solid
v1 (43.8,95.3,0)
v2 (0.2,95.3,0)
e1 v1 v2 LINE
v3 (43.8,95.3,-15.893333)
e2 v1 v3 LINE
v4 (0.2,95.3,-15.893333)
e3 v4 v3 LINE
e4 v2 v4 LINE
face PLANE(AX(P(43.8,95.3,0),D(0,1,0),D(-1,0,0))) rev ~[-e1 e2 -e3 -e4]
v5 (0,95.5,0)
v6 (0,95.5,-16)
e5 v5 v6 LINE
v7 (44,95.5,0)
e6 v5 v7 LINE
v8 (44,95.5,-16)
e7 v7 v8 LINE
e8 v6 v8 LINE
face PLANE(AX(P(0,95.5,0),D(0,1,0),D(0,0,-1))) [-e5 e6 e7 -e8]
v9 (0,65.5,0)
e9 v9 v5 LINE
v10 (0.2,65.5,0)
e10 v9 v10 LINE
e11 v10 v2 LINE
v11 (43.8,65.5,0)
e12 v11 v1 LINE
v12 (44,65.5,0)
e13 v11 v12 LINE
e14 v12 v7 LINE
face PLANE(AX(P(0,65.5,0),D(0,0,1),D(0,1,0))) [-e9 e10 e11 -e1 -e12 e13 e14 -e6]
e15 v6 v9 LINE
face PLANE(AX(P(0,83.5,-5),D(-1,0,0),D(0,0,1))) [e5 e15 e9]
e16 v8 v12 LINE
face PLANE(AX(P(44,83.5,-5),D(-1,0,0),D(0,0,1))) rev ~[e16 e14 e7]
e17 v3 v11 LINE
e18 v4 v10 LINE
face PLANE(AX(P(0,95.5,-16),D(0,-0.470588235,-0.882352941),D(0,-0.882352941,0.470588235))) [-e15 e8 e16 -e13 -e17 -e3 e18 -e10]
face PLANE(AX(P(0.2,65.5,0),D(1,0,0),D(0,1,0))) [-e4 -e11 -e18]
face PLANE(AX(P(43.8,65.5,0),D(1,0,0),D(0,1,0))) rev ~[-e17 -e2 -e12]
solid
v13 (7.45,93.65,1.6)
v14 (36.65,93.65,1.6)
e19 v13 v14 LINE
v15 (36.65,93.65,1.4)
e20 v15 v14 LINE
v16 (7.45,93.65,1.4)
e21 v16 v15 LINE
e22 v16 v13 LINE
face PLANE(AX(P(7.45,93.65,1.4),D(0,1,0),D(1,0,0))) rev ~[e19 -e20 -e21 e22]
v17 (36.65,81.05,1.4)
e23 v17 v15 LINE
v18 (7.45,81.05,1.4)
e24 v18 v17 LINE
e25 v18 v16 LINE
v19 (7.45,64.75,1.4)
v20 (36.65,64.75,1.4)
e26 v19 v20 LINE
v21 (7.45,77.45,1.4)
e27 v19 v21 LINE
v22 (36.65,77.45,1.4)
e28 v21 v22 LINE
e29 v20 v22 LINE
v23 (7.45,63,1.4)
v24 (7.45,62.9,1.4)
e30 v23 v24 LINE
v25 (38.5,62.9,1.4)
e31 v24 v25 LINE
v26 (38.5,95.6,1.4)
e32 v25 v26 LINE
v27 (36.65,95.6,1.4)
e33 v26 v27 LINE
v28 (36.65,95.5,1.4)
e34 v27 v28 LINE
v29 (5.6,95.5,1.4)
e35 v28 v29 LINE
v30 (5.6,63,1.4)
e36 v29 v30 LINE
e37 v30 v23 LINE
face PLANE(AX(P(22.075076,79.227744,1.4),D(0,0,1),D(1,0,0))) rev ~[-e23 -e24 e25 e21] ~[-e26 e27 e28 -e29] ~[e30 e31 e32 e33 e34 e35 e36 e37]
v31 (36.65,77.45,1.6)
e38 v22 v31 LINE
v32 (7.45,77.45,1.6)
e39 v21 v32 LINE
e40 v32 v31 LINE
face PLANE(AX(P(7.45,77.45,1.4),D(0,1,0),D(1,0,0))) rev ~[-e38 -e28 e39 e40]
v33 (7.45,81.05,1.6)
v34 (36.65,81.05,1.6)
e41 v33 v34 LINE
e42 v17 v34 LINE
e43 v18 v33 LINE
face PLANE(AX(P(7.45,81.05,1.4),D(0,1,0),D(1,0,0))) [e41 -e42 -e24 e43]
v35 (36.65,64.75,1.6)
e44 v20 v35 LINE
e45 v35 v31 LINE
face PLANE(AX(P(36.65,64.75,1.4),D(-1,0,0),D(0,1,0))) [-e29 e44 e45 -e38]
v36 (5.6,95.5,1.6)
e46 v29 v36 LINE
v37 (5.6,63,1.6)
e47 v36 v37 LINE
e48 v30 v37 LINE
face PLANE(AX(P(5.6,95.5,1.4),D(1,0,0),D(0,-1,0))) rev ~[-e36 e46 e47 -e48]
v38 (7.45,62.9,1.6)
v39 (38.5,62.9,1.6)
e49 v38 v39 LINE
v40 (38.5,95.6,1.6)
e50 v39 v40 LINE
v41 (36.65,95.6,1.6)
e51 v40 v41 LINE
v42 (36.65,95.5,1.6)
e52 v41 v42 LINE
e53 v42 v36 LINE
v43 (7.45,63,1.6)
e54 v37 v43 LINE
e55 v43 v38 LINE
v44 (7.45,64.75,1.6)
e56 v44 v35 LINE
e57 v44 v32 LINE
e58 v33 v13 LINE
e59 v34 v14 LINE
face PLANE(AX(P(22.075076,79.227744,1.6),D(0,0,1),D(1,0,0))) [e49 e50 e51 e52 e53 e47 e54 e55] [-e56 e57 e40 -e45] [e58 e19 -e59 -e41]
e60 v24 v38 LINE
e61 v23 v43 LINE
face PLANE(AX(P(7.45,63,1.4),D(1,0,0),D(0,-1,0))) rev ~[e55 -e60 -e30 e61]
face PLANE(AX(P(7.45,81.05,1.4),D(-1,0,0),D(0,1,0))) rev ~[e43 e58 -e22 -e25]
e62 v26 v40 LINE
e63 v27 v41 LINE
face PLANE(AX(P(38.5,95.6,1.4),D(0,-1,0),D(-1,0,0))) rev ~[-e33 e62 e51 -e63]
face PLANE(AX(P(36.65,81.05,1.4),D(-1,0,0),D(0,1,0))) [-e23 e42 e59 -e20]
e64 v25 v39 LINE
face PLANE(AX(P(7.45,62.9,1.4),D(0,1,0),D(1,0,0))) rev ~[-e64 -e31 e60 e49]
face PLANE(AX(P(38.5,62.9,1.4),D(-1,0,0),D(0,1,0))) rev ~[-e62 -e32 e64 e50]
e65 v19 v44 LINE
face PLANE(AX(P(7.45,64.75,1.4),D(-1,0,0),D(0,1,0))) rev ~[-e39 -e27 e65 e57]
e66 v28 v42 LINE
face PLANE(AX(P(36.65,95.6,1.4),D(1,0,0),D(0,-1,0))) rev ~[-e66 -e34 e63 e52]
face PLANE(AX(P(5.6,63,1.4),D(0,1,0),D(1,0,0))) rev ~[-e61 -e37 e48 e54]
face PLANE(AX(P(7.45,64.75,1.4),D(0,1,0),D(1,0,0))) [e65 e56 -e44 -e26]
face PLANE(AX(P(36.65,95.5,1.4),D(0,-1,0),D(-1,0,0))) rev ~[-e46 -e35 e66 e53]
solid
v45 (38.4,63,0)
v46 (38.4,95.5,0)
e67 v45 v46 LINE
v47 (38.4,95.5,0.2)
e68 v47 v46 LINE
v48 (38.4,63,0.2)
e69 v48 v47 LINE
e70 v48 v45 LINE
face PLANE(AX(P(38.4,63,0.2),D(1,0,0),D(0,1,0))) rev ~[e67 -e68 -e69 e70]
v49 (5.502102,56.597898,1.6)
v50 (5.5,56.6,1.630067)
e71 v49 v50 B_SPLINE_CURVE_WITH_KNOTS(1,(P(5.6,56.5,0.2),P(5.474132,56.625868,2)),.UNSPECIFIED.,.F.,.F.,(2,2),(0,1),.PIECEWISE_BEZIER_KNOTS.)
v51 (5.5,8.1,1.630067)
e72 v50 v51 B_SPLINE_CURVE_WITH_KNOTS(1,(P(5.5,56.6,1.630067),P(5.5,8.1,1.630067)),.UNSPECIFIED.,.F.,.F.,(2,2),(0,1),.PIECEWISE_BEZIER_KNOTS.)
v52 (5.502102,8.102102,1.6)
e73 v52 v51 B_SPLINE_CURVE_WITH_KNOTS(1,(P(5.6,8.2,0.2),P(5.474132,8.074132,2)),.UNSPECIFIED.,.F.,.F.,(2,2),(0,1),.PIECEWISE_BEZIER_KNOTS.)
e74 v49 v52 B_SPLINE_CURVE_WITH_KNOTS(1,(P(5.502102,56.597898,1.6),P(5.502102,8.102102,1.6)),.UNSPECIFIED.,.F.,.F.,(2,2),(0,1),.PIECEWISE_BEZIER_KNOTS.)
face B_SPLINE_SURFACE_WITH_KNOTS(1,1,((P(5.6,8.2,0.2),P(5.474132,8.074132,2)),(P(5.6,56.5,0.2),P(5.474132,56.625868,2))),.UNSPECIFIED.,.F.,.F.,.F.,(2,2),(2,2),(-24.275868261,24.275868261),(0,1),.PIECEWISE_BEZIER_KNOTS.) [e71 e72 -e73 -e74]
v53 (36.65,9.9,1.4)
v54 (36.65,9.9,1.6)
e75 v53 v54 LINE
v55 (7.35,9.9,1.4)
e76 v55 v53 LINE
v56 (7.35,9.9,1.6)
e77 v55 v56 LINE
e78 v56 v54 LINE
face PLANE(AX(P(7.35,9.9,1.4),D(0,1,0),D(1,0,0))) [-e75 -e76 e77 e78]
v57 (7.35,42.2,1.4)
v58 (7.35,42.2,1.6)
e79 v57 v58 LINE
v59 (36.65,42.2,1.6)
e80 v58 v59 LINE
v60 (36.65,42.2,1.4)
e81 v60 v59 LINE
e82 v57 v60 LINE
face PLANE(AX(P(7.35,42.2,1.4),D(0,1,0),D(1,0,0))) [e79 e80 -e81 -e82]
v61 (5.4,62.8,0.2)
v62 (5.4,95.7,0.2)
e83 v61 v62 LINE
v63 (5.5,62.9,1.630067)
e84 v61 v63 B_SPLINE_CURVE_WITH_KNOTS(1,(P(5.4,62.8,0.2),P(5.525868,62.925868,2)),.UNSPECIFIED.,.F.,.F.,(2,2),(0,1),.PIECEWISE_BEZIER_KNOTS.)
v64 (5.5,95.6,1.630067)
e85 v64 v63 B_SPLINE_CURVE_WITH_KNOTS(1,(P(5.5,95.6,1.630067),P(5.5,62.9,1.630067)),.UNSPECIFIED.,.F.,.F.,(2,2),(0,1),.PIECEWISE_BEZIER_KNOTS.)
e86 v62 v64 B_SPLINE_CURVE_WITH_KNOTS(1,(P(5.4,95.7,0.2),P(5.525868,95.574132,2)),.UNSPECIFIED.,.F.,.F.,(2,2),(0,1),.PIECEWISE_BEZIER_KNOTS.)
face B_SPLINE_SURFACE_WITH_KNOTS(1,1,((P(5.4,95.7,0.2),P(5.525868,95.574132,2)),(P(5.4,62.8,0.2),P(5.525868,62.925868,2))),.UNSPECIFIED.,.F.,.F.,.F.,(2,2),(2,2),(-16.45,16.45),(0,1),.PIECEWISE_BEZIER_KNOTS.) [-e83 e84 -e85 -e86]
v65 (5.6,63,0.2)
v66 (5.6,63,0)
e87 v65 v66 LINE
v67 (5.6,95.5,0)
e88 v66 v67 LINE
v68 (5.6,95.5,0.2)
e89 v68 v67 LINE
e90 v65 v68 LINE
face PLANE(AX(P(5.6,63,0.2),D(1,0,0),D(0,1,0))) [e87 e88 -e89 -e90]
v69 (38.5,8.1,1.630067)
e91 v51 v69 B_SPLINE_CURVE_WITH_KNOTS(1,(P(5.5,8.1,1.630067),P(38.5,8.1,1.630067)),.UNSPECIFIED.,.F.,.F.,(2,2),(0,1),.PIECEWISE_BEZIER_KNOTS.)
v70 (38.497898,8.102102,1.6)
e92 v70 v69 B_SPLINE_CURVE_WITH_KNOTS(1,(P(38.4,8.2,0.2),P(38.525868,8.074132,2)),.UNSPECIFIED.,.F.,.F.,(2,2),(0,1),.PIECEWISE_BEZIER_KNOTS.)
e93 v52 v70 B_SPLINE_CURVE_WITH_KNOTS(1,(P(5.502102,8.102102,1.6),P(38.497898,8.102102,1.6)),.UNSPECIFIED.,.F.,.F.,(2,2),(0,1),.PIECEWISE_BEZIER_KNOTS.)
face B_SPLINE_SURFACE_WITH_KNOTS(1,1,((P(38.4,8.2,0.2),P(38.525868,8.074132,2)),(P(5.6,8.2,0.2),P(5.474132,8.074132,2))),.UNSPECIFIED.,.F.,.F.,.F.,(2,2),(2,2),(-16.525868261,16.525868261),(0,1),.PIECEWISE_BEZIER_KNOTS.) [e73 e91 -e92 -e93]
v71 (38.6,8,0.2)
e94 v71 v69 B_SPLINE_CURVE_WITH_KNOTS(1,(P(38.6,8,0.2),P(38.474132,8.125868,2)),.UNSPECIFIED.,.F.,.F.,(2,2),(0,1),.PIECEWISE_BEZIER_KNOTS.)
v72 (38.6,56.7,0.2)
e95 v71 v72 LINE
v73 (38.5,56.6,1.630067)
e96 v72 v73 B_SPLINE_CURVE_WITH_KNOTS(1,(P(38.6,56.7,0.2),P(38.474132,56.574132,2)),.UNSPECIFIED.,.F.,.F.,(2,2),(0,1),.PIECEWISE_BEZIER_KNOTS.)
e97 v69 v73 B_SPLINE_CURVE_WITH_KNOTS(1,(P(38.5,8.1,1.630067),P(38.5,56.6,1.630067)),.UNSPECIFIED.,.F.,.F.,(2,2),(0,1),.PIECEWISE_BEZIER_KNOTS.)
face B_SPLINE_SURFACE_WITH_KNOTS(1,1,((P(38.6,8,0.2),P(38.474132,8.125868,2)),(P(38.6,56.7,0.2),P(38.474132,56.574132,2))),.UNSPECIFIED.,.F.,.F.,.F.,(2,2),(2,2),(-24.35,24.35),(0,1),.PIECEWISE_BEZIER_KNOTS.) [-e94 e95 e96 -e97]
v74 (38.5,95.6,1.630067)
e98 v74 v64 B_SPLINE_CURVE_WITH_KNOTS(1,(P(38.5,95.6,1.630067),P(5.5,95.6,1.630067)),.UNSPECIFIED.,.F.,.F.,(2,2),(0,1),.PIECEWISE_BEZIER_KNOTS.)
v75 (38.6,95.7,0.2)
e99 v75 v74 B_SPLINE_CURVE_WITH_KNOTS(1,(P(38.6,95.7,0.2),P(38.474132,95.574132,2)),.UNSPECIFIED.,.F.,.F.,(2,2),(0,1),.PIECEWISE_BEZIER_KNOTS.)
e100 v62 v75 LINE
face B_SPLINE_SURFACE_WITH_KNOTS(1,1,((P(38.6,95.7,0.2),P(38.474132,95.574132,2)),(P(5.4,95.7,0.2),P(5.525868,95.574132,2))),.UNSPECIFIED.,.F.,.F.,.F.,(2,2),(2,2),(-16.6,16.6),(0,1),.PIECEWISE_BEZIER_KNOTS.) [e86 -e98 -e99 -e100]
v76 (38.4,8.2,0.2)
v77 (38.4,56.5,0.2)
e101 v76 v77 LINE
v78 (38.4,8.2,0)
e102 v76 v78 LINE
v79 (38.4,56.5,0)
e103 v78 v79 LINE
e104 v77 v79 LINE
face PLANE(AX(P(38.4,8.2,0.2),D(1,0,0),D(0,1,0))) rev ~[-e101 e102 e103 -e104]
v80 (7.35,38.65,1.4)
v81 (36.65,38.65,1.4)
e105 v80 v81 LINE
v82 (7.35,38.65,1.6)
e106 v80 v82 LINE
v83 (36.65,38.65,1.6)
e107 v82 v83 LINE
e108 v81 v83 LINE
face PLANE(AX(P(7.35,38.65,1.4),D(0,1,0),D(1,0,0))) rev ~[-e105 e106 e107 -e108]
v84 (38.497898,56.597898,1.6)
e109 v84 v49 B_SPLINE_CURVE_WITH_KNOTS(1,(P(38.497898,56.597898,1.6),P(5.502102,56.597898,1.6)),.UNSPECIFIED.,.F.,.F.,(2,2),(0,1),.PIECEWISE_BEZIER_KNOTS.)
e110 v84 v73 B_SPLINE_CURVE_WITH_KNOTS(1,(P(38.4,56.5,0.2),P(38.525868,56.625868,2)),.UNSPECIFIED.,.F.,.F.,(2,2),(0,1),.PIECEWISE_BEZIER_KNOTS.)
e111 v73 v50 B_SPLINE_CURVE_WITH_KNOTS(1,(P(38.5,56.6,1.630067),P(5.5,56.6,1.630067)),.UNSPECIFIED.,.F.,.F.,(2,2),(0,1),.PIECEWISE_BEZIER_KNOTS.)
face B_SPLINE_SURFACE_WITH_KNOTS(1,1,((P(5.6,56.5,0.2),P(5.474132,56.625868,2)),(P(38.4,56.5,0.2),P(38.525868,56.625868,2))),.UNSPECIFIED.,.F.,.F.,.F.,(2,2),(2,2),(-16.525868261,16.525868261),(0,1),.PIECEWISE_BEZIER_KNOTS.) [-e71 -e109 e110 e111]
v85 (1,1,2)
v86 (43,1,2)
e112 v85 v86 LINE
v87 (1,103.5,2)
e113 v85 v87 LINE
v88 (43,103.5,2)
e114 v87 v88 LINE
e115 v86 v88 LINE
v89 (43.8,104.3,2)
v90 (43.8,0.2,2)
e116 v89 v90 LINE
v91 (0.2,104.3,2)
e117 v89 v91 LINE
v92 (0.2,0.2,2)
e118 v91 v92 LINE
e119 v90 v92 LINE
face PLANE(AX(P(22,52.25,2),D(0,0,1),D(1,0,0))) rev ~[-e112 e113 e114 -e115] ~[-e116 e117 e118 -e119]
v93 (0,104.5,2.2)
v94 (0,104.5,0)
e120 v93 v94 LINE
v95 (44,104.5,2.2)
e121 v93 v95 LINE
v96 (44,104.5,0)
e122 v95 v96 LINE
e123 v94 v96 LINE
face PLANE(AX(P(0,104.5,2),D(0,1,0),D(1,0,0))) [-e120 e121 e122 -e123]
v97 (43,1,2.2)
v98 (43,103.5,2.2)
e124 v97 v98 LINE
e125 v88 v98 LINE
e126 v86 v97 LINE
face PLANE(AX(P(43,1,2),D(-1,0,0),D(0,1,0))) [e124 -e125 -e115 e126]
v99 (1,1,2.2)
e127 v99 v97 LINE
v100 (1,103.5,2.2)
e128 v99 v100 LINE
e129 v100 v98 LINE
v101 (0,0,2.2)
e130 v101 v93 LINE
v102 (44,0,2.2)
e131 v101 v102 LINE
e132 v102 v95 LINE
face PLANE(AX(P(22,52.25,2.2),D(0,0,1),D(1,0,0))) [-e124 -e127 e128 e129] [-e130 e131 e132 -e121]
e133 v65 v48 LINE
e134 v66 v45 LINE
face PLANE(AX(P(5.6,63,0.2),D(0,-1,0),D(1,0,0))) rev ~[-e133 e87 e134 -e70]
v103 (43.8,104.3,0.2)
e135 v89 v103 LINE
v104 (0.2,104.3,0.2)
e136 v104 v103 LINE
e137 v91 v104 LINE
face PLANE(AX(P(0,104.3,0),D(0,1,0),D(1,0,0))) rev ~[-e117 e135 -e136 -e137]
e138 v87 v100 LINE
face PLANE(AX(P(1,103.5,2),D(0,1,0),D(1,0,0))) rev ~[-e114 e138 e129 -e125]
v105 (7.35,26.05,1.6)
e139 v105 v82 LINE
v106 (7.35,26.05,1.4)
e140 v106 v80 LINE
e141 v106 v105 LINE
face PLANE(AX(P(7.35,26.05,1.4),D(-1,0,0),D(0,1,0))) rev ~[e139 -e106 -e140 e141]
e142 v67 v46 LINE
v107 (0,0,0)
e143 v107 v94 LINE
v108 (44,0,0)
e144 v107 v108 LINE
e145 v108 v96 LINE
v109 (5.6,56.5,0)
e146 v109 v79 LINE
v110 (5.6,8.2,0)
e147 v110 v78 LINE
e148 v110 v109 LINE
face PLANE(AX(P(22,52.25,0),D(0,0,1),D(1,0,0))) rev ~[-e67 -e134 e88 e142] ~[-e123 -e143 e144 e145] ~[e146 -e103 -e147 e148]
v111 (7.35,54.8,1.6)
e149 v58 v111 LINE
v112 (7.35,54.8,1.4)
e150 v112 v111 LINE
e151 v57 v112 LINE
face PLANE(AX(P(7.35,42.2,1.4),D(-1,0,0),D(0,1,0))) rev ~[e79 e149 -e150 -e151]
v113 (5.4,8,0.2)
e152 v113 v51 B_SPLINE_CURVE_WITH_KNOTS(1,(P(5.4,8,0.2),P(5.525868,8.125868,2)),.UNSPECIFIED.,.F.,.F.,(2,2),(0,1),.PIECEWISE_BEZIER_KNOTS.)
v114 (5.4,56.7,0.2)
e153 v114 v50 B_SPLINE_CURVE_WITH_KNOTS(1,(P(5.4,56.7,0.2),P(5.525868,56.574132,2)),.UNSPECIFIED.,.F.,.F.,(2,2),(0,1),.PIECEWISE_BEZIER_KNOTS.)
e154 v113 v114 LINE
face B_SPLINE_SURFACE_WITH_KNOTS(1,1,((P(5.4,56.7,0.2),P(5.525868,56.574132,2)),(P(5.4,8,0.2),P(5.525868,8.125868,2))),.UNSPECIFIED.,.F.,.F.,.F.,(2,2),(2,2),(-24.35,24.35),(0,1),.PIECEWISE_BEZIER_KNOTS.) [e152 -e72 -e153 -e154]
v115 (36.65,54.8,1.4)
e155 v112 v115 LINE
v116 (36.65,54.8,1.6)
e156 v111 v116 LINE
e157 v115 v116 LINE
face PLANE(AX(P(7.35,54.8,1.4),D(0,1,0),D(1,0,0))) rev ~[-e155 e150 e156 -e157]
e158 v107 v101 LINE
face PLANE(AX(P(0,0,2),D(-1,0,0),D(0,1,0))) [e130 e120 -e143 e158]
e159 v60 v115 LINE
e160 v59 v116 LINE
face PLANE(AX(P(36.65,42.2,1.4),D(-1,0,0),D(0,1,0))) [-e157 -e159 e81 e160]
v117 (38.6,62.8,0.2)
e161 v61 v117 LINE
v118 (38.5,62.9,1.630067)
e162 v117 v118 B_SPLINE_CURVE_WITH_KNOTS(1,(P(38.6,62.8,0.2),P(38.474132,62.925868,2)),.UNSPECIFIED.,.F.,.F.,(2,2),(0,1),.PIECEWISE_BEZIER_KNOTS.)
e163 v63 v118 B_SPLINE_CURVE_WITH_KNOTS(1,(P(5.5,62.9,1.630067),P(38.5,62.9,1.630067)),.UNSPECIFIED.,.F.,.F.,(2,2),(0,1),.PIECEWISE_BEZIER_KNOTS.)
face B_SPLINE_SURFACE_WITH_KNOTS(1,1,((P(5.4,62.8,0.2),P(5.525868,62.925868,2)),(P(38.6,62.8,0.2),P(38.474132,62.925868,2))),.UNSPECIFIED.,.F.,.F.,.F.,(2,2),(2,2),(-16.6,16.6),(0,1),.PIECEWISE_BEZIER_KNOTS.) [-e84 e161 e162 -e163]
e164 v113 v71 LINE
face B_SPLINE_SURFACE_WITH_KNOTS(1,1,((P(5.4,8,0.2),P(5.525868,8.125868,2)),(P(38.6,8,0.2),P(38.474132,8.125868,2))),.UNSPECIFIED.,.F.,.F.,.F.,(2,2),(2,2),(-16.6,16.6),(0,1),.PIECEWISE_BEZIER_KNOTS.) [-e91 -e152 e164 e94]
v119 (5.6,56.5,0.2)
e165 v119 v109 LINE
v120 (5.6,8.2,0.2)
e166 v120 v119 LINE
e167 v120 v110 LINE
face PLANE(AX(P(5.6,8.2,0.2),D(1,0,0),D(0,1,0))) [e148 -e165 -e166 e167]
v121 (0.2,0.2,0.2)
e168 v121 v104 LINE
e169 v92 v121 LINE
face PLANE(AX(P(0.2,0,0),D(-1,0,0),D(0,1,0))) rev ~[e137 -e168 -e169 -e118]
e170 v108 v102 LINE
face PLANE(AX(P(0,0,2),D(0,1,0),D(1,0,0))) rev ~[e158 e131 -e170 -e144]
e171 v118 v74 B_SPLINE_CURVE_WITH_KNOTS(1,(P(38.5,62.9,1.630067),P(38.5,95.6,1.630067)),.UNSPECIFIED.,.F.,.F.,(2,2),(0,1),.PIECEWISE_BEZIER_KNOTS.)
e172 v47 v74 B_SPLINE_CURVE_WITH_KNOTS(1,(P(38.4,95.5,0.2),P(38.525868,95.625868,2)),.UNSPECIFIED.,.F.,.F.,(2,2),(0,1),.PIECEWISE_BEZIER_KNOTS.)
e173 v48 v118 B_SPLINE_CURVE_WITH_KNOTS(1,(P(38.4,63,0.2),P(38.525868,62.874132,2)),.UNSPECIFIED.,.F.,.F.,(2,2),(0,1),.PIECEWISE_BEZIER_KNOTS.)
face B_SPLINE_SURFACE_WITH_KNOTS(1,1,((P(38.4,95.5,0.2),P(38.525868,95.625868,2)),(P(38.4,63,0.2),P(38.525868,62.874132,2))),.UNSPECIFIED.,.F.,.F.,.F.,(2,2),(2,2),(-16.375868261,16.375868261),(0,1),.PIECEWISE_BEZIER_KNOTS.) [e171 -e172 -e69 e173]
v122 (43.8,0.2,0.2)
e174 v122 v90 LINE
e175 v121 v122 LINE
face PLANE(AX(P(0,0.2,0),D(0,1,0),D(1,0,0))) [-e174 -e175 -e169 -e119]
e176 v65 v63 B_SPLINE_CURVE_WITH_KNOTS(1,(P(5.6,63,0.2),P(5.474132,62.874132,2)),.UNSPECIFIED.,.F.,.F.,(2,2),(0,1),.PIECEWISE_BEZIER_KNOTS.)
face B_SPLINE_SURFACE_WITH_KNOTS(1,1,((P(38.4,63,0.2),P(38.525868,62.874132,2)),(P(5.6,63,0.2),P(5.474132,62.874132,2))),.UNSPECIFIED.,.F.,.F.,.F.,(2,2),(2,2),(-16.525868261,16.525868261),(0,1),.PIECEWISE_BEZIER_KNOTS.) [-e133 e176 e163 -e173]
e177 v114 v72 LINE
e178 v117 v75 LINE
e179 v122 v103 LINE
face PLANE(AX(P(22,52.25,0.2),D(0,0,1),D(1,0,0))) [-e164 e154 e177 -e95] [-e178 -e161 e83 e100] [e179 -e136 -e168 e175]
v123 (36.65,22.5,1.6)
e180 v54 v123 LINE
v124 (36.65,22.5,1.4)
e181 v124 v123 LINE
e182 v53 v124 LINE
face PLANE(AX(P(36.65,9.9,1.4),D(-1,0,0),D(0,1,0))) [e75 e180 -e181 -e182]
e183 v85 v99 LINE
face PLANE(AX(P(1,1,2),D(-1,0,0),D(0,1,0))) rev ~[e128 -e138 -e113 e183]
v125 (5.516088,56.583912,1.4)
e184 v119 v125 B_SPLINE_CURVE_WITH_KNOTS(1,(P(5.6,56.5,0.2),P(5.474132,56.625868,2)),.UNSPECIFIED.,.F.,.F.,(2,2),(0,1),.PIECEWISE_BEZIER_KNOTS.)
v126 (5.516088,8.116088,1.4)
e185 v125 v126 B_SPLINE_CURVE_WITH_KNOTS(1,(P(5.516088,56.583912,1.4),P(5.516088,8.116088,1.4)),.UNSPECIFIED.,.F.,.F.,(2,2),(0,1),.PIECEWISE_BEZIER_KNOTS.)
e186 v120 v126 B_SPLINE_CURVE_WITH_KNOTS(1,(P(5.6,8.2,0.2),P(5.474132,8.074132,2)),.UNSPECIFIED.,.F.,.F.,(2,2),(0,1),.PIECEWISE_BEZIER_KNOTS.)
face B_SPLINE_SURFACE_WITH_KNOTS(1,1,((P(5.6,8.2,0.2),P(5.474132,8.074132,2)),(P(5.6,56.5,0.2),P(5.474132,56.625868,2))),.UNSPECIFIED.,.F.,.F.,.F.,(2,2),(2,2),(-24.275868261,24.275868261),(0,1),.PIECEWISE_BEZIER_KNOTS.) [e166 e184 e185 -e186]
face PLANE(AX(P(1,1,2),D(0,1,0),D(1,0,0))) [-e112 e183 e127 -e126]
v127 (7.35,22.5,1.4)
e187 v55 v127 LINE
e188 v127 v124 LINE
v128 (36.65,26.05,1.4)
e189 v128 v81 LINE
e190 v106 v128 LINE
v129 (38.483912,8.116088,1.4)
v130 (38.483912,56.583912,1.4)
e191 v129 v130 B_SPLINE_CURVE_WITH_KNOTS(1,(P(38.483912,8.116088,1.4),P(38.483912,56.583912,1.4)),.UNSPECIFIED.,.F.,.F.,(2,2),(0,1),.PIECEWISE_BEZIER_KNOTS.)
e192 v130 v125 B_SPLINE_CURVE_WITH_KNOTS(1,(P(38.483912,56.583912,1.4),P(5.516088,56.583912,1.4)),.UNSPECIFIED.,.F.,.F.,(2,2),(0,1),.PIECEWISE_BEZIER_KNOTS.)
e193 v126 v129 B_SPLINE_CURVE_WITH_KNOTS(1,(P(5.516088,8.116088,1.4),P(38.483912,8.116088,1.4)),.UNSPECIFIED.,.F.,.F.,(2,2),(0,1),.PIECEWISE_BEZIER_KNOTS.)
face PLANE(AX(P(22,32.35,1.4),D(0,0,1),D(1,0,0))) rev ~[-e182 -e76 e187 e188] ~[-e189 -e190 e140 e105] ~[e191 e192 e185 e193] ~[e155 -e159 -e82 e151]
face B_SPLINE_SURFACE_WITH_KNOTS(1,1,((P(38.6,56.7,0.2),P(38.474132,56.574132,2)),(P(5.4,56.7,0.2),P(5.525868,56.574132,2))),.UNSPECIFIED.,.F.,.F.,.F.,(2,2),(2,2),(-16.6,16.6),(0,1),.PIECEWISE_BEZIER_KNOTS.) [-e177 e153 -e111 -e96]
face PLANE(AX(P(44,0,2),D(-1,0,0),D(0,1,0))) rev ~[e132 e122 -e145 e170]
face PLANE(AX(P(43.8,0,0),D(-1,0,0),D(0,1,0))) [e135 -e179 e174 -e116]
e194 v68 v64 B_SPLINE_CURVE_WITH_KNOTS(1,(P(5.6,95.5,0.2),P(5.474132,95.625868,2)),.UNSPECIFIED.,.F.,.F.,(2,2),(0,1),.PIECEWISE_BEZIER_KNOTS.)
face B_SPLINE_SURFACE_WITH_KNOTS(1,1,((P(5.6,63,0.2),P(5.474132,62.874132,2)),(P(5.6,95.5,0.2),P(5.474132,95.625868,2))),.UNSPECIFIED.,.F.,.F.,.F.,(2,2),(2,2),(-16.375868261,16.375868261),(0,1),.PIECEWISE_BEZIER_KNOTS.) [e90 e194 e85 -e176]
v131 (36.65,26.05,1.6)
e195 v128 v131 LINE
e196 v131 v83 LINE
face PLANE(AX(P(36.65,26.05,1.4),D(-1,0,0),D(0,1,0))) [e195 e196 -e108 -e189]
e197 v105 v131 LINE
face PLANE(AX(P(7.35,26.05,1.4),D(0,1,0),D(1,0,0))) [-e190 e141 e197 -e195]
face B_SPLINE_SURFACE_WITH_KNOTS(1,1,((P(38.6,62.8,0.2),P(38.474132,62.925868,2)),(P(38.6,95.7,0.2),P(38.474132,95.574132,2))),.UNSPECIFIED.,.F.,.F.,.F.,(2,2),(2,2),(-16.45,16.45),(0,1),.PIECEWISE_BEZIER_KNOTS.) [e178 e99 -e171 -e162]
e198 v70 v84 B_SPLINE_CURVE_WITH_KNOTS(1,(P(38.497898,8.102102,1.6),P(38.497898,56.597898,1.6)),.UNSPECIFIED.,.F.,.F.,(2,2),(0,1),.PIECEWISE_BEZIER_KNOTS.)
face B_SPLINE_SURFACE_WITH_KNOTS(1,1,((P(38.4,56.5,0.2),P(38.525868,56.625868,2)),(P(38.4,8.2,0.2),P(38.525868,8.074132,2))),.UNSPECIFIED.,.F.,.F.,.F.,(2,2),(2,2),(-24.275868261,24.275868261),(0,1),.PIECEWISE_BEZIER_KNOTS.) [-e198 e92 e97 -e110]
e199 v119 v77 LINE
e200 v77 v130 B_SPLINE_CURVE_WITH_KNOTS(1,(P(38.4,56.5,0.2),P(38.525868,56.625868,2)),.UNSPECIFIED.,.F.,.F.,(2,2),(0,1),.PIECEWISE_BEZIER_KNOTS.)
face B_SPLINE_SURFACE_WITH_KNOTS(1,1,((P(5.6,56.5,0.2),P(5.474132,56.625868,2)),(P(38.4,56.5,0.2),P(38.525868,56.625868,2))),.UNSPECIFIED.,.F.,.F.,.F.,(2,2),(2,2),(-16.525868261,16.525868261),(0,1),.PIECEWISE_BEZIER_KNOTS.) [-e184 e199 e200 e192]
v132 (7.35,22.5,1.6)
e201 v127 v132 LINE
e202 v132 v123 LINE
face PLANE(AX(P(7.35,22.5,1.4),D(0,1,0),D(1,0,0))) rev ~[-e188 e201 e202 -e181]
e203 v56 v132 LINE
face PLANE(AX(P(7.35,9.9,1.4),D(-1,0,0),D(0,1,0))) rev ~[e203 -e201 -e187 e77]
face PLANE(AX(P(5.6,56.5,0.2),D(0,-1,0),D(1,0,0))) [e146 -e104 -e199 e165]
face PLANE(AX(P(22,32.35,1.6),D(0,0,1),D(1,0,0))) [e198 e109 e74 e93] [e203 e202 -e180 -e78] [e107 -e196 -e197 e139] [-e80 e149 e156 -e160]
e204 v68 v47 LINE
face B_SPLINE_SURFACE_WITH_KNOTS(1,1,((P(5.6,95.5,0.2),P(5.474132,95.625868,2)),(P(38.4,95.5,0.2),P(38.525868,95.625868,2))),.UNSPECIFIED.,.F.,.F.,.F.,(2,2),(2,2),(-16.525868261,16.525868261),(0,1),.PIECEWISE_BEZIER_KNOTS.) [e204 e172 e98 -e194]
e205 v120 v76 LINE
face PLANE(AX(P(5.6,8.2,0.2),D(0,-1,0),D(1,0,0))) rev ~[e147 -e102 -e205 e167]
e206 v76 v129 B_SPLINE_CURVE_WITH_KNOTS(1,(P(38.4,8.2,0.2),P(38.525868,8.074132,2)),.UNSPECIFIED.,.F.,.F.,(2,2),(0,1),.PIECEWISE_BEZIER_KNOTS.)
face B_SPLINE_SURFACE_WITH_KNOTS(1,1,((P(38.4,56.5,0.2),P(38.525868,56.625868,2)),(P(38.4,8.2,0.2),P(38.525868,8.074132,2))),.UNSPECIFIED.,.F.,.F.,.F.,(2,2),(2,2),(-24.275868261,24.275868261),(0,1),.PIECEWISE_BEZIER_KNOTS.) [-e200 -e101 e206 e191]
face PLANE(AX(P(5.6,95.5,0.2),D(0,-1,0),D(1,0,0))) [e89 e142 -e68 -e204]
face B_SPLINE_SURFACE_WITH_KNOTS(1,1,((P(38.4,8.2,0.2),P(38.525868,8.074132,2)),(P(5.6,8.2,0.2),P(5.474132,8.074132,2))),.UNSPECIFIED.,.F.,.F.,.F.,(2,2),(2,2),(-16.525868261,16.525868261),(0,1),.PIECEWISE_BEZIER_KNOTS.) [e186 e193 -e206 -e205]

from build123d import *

# Parameters (mm, degrees)
SKETCH_1_W          = 44
SKETCH_1_H          = 104.5
EXTRUDE_1_DEPTH     = 2
SHELL_1_T           = -0.2
SKETCH_2_W          = 32.8
SKETCH_2_H          = 32.5
SKETCH_2_H_2        = 48.3
CUT_EXTRUDE_1_DEPTH = 2
SKETCH_3_W          = 33.2
SKETCH_3_H          = 32.9
SKETCH_3_W_2        = 32.8
SKETCH_3_H_2        = 32.5
SKETCH_3_H_3        = 48.7
SKETCH_3_H_4        = 48.3
EXTRUDE_2_DEPTH     = 1.8
EXTRUDE_2_TAPER     = 4
SKETCH_6_W          = 29.2
SKETCH_6_H          = 12.7
SKETCH_6_H_2        = 12.6
EXTRUDE_3_DEPTH     = 0.2
SKETCH_7_W          = 33
SKETCH_7_H          = 48.5
SKETCH_7_W_2        = 29.3
SKETCH_7_H_2        = 12.6
EXTRUDE_4_DEPTH     = 0.2
EXTRUDE_6_DEPTH     = 44
SKETCH_12_W         = 43.6
SKETCH_12_H         = 29.8
CUT_EXTRUDE_5_DEPTH = 16
SKETCH_13_W         = 44
SKETCH_13_H         = 104.5
SKETCH_13_W_2       = 42
SKETCH_13_H_2       = 102.5
EXTRUDE_7_DEPTH     = 0.2


with BuildPart() as part:
    # 스케치1 → 보스-돌출1 (new body)
    with BuildSketch(Plane.XY):
        with Locations((22, 52.25)):
            Rectangle(SKETCH_1_W, SKETCH_1_H)
    extrude(amount=EXTRUDE_1_DEPTH)

    # 쉘1
    shell_1_openings = [part.faces().sort_by_distance(p)[0] for p in [
        (22, 52.25, 2),
    ]]
    offset(amount=SHELL_1_T, openings=shell_1_openings, kind=Kind.INTERSECTION)

    # 스케치2 → 컷-돌출1 (cut)
    with BuildSketch(Plane.XY.offset(0.2)):
        with Locations((22, 79.25)):
            Rectangle(SKETCH_2_W, SKETCH_2_H)
        with Locations((22, 32.35)):
            Rectangle(SKETCH_2_W, SKETCH_2_H_2)
    extrude(amount=-CUT_EXTRUDE_1_DEPTH, mode=Mode.SUBTRACT)

    # 스케치3 → 보스-돌출2 (add)
    # profile 1 of 2: a face of its own
    with BuildSketch(Plane.XY.offset(0.2)):
        with Locations((22, 79.25)):
            Rectangle(SKETCH_3_W, SKETCH_3_H)
        with Locations((22, 79.25)):
            Rectangle(SKETCH_3_W_2, SKETCH_3_H_2, mode=Mode.SUBTRACT)
    # profile 2 of 2: a face of its own
    with BuildSketch(Plane.XY.offset(0.2)):
        with Locations((22, 32.35)):
            Rectangle(SKETCH_3_W, SKETCH_3_H_3)
        with Locations((22, 32.35)):
            Rectangle(SKETCH_3_W_2, SKETCH_3_H_4, mode=Mode.SUBTRACT)
    extrude(amount=EXTRUDE_2_DEPTH, taper=EXTRUDE_2_TAPER)

    # 스케치7 → 보스-돌출4 (add)
    with BuildSketch(Plane.XY.offset(1.4)):
        with Locations((22, 32.35)):
            Rectangle(SKETCH_7_W, SKETCH_7_H)
        with Locations((22, 16.2)):
            Rectangle(SKETCH_7_W_2, SKETCH_7_H_2, mode=Mode.SUBTRACT)
        with Locations((22, 32.35)):
            Rectangle(SKETCH_7_W_2, SKETCH_7_H_2, mode=Mode.SUBTRACT)
        with Locations((22, 48.5)):
            Rectangle(SKETCH_7_W_2, SKETCH_7_H_2, mode=Mode.SUBTRACT)
    extrude(amount=EXTRUDE_4_DEPTH)

    # 스케치13 → 보스-돌출7 (add)
    with BuildSketch(Plane.XY.offset(2)):
        with Locations((22, 52.25)):
            Rectangle(SKETCH_13_W, SKETCH_13_H)
        with Locations((22, 52.25)):
            Rectangle(SKETCH_13_W_2, SKETCH_13_H_2, mode=Mode.SUBTRACT)
    extrude(amount=EXTRUDE_7_DEPTH)


with BuildPart() as body_2:
    # 스케치6 → 보스-돌출3 (new body)
    with BuildSketch(Plane.XY.offset(1.4)):
        Polygon((5.6, 95.5), (5.6, 63), (7.45, 63), (7.45, 62.9), (38.5, 62.9), (38.5, 95.6), (36.65, 95.6), (36.65, 95.5), align=None)
        with Locations((22.05, 71.1)):
            Rectangle(SKETCH_6_W, SKETCH_6_H, mode=Mode.SUBTRACT)
        with Locations((22.05, 87.35)):
            Rectangle(SKETCH_6_W, SKETCH_6_H_2, mode=Mode.SUBTRACT)
    extrude(amount=EXTRUDE_3_DEPTH)


with BuildPart() as body_3:
    # 스케치11 → 보스-돌출6 (new body)
    with BuildSketch(Plane.ZY):
        Polygon((0, 95.5), (-16, 95.5), (0, 65.5), align=None)
    extrude(amount=-EXTRUDE_6_DEPTH)

    # 스케치12 → 컷-돌출5 (cut)
    with BuildSketch(Plane(origin=(0, 0, 0), x_dir=(-1, 0, 0), z_dir=(0, 0, -1))):
        with Locations((-22, 80.4)):
            Rectangle(SKETCH_12_W, SKETCH_12_H)
    extrude(amount=CUT_EXTRUDE_5_DEPTH, mode=Mode.SUBTRACT)


solid = Compound([part.part, body_2.part, body_3.part])
